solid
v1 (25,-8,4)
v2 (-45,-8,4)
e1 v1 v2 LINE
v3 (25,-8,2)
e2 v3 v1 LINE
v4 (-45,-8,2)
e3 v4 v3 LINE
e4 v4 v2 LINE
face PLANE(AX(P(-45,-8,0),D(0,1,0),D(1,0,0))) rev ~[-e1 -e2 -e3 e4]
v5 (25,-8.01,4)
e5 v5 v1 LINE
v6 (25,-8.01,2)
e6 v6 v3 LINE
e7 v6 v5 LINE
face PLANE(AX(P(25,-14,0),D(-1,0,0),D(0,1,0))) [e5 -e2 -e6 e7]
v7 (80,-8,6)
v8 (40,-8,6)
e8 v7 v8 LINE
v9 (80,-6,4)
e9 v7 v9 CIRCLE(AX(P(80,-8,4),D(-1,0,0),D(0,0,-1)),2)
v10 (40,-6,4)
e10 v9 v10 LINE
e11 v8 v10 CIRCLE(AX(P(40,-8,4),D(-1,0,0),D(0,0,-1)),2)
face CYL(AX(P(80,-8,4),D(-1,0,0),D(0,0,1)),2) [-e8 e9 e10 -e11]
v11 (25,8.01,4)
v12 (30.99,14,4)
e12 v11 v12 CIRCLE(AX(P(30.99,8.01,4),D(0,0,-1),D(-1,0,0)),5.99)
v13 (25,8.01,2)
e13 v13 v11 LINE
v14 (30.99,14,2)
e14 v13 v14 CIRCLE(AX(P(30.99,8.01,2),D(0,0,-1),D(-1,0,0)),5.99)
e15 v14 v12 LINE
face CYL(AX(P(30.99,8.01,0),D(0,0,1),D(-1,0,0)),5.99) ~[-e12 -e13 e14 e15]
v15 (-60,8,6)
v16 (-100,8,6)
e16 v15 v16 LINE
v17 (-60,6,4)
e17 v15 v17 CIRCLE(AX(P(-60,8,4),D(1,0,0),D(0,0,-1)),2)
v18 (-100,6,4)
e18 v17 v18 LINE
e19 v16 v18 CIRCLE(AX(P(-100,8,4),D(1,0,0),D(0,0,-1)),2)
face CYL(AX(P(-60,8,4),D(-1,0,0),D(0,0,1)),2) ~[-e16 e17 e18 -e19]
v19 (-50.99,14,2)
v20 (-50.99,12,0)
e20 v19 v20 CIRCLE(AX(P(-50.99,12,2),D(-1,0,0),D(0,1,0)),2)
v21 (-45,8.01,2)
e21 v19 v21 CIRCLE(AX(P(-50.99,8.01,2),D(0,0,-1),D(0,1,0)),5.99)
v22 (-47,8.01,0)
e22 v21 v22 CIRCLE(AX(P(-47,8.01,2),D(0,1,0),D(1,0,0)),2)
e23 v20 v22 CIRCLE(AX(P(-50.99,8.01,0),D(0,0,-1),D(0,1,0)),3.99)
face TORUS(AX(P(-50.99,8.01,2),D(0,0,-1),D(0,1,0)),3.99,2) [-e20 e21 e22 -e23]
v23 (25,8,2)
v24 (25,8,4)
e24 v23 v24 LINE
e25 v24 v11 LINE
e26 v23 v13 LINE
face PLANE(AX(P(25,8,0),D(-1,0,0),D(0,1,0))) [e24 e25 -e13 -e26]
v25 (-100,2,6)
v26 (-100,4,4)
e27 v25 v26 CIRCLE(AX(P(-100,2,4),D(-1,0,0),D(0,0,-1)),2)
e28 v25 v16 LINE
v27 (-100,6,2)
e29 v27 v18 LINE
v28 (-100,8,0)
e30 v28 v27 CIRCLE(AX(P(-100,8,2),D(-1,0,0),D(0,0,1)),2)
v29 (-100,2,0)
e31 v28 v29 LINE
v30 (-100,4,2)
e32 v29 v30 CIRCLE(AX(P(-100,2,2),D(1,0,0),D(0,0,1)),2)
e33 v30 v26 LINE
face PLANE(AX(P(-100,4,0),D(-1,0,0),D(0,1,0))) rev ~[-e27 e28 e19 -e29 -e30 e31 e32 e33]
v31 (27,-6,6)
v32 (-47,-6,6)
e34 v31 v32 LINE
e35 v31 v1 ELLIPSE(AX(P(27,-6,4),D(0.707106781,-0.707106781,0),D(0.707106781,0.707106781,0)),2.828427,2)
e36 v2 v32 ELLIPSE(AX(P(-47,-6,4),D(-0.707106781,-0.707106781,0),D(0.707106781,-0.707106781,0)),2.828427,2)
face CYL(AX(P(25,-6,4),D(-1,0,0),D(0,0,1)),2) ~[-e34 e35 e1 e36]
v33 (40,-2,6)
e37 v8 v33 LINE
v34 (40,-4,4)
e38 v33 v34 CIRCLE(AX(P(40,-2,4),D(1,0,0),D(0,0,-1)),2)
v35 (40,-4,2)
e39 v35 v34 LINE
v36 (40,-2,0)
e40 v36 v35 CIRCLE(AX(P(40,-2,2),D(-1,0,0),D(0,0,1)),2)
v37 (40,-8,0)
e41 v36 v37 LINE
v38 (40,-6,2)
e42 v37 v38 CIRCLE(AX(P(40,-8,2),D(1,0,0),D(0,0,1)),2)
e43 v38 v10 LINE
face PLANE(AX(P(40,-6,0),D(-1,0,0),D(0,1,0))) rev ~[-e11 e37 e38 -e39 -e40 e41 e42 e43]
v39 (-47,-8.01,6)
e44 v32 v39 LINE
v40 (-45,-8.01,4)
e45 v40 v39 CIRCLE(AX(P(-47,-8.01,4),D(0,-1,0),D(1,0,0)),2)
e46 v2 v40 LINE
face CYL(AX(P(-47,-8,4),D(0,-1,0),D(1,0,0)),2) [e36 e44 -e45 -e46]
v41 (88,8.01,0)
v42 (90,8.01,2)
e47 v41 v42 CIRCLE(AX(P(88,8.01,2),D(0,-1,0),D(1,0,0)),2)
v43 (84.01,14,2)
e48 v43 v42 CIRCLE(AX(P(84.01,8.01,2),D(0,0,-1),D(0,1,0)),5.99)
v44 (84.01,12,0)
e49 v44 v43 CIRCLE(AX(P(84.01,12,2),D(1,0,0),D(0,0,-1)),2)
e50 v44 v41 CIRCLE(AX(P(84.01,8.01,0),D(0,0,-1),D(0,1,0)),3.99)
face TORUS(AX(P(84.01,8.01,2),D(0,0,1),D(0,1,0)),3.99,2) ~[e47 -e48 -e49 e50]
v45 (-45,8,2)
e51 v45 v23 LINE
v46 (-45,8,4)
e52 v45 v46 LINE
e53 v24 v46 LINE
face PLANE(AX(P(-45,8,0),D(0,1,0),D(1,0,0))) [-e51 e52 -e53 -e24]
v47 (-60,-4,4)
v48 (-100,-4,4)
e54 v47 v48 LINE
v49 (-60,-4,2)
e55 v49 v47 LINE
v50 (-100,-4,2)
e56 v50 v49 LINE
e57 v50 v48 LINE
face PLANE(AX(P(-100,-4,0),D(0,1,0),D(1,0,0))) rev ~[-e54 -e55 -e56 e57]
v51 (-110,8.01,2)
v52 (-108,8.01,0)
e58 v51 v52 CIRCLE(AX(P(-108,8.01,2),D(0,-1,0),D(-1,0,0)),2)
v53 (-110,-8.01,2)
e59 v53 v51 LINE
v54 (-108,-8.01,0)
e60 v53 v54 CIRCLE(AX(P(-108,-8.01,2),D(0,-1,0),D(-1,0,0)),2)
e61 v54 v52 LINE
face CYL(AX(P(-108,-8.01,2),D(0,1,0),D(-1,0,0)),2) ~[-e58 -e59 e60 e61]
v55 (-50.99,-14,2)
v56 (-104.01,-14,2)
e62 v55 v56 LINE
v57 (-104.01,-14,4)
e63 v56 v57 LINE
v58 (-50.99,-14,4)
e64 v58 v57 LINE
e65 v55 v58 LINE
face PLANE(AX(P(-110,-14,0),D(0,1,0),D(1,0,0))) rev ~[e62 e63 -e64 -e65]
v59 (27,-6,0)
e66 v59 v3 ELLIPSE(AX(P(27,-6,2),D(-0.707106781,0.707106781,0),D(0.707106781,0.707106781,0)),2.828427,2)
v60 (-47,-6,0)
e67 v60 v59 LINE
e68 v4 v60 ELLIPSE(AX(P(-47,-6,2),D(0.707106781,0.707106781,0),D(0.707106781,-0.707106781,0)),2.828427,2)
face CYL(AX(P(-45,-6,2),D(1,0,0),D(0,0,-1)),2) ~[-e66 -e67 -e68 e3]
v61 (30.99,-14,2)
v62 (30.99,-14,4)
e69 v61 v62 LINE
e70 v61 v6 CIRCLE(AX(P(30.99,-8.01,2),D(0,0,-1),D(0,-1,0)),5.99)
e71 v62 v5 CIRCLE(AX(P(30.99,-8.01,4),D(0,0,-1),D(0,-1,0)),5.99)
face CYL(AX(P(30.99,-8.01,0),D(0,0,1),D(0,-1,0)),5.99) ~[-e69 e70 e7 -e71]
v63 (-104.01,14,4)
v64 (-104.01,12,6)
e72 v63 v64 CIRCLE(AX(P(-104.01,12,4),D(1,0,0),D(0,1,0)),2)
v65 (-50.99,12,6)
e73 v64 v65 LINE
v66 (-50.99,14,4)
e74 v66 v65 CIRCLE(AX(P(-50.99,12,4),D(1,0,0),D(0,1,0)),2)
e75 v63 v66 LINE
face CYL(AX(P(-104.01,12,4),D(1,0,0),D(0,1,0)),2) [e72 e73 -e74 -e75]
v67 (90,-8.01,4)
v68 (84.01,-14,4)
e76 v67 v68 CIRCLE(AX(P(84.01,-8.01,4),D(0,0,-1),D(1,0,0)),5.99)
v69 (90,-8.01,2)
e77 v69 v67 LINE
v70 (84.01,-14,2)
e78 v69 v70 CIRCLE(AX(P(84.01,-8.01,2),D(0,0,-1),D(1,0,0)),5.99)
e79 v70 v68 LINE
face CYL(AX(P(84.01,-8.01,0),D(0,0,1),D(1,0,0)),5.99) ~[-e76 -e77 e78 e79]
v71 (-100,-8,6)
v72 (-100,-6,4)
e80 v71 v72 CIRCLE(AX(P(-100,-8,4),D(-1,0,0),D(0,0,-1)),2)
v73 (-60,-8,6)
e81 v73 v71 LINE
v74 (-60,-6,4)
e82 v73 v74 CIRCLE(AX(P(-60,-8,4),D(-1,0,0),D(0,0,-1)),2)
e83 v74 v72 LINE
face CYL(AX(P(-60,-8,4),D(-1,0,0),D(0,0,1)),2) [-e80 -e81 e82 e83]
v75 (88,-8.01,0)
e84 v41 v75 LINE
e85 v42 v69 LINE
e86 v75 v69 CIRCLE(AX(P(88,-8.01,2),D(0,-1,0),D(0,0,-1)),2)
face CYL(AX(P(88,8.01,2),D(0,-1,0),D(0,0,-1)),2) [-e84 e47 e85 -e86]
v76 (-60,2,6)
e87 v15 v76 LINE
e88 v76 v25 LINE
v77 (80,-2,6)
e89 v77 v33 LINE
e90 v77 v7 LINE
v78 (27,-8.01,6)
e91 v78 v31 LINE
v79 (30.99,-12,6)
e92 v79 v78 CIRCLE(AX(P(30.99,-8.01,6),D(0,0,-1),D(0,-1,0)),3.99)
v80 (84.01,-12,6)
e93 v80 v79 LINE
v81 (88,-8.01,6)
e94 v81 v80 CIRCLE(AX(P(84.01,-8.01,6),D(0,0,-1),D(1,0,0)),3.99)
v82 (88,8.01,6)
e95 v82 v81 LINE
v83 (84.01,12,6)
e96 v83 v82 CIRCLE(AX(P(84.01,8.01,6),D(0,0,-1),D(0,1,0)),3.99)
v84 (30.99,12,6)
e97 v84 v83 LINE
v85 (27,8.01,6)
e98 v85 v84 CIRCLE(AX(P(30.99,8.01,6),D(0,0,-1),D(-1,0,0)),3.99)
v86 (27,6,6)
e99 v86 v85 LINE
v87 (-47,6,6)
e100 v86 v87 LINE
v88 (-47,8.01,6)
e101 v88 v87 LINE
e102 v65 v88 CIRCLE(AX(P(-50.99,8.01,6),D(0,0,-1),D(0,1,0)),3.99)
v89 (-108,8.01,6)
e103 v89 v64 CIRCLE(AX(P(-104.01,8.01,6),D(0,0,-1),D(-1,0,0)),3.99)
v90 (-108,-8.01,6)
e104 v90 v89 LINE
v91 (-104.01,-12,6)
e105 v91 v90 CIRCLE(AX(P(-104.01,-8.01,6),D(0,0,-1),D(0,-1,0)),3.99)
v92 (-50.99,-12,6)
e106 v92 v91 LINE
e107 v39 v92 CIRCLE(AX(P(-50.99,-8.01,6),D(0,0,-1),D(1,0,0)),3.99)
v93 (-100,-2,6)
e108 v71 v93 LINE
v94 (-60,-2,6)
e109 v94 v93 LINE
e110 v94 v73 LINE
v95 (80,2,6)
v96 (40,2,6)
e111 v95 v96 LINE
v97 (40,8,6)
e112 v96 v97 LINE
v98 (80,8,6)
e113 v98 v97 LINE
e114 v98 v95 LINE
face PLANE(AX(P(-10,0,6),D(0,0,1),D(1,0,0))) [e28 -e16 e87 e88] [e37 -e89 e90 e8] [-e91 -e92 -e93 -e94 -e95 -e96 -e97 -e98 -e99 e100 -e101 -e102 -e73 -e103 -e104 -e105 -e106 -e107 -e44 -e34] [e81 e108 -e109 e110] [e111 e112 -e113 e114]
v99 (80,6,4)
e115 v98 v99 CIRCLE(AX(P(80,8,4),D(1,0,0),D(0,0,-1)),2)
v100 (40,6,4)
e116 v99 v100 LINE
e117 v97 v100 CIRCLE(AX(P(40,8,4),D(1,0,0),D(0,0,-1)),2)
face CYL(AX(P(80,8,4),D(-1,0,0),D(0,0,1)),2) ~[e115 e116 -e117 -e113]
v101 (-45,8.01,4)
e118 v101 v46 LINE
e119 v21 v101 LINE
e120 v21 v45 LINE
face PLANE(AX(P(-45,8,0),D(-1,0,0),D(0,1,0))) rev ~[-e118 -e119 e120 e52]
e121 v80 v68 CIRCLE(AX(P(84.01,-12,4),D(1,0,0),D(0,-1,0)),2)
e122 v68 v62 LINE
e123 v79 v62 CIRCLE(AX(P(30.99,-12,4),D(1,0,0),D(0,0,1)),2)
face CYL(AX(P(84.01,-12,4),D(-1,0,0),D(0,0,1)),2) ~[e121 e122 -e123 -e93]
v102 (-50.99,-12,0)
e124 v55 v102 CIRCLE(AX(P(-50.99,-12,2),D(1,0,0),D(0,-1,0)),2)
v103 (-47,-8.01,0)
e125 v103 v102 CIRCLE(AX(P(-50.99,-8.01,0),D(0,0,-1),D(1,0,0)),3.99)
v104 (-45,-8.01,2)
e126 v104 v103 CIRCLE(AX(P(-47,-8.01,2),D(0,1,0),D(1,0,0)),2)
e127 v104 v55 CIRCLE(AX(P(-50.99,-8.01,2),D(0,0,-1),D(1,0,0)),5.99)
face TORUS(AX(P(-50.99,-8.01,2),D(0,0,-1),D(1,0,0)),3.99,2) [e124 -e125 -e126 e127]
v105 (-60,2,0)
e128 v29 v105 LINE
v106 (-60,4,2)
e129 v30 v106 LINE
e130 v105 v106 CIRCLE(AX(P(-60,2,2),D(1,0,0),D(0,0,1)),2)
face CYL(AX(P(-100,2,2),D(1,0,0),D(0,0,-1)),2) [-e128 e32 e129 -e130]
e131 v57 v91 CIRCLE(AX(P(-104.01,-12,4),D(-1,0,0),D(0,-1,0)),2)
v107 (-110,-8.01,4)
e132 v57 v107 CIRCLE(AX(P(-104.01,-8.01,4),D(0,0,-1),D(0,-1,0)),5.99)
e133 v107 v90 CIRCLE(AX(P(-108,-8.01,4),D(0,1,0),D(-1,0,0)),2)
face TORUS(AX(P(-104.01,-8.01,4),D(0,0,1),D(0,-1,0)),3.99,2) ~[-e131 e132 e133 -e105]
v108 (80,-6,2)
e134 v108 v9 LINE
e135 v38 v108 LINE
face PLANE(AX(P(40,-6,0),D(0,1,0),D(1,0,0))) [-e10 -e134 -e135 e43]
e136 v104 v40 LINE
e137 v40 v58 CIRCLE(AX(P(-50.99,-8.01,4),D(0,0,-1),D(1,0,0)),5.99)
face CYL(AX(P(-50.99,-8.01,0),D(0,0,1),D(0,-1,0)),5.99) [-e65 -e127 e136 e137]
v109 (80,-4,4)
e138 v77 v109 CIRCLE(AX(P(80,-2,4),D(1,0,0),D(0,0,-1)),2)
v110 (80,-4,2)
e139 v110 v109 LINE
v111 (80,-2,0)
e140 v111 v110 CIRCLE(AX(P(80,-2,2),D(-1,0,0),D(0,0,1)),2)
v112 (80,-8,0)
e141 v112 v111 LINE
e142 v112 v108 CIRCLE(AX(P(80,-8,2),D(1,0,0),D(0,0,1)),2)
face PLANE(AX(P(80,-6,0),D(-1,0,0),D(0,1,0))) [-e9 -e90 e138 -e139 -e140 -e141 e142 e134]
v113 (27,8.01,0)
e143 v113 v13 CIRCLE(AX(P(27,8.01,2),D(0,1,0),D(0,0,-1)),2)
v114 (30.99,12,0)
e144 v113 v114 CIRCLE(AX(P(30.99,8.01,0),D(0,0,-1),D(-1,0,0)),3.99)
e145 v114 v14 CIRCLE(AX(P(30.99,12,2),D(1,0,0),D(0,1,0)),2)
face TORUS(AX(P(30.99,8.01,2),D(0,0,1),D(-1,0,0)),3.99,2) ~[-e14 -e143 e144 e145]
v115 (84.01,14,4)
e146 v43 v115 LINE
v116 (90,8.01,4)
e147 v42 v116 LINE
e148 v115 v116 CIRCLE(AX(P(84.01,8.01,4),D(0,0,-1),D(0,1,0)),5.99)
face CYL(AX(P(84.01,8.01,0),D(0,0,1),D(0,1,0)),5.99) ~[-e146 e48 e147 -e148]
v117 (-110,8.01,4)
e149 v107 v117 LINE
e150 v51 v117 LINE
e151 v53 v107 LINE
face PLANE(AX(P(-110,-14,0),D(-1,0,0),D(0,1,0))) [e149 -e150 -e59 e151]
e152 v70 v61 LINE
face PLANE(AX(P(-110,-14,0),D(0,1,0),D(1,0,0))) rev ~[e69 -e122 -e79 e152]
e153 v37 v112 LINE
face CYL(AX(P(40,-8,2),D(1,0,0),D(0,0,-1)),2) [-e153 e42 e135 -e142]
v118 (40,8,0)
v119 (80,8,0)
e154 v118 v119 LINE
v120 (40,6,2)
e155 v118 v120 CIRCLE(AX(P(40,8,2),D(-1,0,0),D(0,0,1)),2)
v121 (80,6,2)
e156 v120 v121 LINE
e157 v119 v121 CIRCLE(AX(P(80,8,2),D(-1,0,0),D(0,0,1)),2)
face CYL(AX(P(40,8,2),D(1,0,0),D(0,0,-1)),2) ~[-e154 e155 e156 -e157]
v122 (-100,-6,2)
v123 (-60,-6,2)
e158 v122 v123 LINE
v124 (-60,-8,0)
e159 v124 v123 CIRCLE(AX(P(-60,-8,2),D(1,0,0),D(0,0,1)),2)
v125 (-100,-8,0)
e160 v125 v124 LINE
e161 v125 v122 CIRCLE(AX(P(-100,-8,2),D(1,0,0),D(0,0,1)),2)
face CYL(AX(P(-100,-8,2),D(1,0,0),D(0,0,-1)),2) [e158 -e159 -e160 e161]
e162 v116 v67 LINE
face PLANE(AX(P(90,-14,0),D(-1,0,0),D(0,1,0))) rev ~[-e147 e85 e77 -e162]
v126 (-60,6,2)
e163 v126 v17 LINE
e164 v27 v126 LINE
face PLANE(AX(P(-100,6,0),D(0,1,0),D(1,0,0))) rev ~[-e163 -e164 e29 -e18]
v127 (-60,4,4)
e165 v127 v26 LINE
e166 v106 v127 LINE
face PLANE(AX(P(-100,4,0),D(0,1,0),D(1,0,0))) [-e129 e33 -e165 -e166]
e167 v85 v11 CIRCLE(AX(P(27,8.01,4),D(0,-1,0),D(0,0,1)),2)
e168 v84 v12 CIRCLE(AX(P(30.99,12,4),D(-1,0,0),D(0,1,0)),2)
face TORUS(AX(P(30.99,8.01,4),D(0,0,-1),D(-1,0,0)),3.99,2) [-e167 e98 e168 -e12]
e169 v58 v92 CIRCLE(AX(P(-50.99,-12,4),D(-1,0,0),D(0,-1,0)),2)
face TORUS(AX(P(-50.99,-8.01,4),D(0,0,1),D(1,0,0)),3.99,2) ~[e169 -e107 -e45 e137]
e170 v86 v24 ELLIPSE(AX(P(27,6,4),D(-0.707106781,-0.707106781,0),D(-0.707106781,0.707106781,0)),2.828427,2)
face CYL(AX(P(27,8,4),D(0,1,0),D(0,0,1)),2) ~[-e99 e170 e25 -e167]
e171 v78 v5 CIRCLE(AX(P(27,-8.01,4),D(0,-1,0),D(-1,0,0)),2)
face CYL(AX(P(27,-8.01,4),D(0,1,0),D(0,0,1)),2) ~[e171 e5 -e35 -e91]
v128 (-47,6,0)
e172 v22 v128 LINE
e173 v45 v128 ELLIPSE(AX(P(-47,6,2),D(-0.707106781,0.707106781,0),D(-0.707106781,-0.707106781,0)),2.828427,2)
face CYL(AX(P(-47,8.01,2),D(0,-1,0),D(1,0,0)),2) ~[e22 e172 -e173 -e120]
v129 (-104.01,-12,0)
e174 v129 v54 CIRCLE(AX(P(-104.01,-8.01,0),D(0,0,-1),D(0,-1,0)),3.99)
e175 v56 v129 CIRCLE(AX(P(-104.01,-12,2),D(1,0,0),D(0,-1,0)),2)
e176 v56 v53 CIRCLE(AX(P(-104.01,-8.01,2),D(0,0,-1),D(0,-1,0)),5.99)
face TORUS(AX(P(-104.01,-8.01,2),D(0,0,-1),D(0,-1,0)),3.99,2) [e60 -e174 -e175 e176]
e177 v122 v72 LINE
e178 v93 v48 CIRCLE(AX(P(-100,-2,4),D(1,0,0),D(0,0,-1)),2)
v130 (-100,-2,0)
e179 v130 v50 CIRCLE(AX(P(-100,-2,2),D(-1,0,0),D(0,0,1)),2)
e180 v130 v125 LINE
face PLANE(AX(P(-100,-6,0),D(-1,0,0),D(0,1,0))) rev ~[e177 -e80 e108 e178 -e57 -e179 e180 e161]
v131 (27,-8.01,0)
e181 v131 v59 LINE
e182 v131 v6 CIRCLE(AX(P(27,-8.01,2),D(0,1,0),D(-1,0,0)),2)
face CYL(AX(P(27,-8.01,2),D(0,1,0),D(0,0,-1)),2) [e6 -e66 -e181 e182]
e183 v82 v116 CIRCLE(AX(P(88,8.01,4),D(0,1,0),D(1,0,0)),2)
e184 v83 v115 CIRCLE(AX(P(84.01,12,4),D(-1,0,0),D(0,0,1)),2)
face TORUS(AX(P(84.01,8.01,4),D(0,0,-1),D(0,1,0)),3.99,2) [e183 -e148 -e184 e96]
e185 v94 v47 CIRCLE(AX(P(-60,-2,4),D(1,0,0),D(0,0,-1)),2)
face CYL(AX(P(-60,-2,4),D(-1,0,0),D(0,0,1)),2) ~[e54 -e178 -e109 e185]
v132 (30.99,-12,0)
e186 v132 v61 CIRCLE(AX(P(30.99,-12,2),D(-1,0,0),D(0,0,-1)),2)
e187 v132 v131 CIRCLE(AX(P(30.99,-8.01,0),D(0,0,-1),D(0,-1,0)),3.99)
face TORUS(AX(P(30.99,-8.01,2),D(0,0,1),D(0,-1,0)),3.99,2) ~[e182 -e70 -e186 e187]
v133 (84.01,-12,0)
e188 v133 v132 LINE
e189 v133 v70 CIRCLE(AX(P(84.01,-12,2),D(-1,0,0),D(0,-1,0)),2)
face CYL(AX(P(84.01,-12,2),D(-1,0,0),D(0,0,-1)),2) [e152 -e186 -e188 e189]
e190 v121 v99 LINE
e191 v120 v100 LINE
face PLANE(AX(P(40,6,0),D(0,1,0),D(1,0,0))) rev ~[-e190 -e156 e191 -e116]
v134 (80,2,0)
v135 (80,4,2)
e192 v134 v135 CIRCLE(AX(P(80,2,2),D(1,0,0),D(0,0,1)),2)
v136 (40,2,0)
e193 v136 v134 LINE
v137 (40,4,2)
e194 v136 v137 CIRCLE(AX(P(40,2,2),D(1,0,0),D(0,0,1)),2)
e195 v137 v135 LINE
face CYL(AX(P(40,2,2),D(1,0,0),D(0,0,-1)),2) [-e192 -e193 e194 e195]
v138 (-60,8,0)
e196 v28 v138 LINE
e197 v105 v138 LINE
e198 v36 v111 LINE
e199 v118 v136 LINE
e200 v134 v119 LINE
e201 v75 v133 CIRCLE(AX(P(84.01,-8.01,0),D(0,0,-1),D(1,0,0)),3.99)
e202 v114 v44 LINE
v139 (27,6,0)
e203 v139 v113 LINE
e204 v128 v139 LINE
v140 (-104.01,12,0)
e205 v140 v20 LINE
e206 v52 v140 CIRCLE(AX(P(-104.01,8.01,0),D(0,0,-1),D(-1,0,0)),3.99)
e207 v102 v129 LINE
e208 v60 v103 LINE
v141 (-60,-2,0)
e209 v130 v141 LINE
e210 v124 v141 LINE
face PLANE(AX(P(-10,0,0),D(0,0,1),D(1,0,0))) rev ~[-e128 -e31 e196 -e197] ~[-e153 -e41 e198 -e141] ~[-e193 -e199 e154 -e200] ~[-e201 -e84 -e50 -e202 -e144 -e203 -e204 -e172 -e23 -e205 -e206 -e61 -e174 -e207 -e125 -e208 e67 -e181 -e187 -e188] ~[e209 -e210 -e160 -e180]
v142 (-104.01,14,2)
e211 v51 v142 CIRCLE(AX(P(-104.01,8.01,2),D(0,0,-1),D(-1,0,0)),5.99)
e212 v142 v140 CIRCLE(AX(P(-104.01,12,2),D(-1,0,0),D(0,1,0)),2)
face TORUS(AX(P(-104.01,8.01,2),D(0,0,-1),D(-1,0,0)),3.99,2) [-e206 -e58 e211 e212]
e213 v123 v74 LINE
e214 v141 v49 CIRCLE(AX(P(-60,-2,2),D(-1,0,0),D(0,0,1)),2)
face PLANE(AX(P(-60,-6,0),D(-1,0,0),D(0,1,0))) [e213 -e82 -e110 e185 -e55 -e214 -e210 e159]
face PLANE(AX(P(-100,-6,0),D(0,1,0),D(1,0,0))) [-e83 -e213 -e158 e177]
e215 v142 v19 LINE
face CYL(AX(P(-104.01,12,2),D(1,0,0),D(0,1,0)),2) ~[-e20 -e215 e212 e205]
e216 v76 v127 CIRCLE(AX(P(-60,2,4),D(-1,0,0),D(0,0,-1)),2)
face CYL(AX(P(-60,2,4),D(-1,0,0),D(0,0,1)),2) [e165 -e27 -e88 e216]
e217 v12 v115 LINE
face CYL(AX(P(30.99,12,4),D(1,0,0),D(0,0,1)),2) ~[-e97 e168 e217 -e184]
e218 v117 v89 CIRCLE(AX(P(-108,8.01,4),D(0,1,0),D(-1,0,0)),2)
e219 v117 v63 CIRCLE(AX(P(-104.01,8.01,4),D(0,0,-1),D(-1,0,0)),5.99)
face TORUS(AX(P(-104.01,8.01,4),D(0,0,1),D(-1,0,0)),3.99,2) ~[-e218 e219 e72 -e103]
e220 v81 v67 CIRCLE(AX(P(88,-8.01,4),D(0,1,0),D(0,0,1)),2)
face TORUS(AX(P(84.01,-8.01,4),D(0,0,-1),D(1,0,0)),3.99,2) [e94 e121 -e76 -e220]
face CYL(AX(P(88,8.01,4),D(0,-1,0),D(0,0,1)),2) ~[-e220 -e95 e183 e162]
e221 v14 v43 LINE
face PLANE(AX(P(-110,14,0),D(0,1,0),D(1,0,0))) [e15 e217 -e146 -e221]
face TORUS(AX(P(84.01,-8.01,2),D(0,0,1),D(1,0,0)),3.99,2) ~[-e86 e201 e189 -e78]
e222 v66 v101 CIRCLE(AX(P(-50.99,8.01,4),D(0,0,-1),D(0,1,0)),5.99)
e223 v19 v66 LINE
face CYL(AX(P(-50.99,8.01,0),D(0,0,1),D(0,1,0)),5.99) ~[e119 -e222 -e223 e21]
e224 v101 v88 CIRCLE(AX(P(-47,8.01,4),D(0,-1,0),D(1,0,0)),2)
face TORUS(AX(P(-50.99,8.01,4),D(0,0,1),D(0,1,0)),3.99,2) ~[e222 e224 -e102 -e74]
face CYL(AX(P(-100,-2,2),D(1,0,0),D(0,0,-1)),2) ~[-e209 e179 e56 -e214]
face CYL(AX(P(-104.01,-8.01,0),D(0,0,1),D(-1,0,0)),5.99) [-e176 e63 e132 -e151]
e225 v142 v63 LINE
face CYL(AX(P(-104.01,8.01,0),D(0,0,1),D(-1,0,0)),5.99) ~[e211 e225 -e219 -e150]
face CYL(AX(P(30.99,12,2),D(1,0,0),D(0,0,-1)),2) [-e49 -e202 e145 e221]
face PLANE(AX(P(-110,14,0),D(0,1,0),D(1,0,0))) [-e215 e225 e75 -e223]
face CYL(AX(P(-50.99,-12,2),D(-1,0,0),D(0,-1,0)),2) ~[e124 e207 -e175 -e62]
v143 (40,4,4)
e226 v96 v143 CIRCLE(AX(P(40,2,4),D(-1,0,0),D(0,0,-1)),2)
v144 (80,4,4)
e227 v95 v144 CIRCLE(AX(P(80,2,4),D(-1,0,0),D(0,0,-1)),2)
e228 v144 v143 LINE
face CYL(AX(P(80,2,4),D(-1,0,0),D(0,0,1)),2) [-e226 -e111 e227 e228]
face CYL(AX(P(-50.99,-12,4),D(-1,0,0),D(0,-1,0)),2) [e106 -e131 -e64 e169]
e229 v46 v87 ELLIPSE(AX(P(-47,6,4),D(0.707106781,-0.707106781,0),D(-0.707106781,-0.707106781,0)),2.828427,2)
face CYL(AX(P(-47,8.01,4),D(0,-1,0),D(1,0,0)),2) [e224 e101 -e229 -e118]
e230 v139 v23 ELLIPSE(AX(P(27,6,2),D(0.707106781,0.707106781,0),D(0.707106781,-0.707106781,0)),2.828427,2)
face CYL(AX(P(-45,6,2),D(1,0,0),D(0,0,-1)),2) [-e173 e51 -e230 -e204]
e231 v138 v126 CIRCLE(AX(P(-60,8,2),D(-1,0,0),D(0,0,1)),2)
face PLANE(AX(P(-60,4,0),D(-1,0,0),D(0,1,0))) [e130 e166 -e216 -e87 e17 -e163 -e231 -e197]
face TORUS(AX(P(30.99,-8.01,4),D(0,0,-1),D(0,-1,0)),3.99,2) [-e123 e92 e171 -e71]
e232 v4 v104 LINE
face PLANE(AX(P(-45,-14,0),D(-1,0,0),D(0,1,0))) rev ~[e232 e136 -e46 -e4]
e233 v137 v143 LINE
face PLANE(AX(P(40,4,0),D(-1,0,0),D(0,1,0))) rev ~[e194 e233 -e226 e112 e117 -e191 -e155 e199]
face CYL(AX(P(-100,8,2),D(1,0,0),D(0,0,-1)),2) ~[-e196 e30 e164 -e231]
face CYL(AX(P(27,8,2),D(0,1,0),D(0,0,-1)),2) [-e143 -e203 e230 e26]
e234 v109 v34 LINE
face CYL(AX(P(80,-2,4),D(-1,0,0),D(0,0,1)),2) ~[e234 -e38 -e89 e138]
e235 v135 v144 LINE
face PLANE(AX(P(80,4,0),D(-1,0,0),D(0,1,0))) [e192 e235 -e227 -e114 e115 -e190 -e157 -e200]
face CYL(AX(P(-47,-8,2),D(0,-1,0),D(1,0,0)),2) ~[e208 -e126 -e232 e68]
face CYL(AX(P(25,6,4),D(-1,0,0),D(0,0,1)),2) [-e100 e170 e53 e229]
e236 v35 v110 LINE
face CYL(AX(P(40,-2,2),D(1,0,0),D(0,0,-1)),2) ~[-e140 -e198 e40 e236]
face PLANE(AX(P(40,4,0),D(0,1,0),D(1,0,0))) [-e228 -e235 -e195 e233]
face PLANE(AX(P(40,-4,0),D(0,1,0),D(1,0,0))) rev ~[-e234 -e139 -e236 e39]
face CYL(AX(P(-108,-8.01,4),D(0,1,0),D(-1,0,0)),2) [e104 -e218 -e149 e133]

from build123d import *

# Parameters (mm, degrees)
BOX003_W     = 40
BOX003_H     = 2
BOX003_DEPTH = 10
BOX004_W     = 40
BOX004_H     = 2
BOX004_DEPTH = 10
BOX002_W     = 40
BOX002_H     = 2
BOX002_DEPTH = 10
BOX005_W     = 70
BOX005_H     = 6
BOX005_DEPTH = 10
BOX006_W     = 70
BOX006_H     = 6
BOX006_DEPTH = 10
BOX001_W     = 40
BOX001_H     = 2
BOX001_DEPTH = 10
BOX_W        = 200
BOX_H        = 28
BOX_DEPTH    = 6
FILLET_R     = 5.99
FILLET001_R  = 2


with BuildPart() as cube003:
    # Box003 → Box003 (new body)
    with BuildSketch(Plane(origin=(40, -6, 0), x_dir=(1, 0, 0), z_dir=(0, 0, 1))):
        with Locations((20, 1)):
            Rectangle(BOX003_W, BOX003_H)
    extrude(amount=BOX003_DEPTH)


with BuildPart() as cube004:
    # Box004 → Box004 (new body)
    with BuildSketch(Plane(origin=(40, 4, 0), x_dir=(1, 0, 0), z_dir=(0, 0, 1))):
        with Locations((20, 1)):
            Rectangle(BOX004_W, BOX004_H)
    extrude(amount=BOX004_DEPTH)


with BuildPart() as cube002:
    # Box002 → Box002 (new body)
    with BuildSketch(Plane(origin=(-100, 4, 0), x_dir=(1, 0, 0), z_dir=(0, 0, 1))):
        with Locations((20, 1)):
            Rectangle(BOX002_W, BOX002_H)
    extrude(amount=BOX002_DEPTH)


with BuildPart() as cube005:
    # Box005 → Box005 (new body)
    with BuildSketch(Plane(origin=(-45, -14, 0), x_dir=(1, 0, 0), z_dir=(0, 0, 1))):
        with Locations((35, 3)):
            Rectangle(BOX005_W, BOX005_H)
    extrude(amount=BOX005_DEPTH)


with BuildPart() as cube006:
    # Box006 → Box006 (new body)
    with BuildSketch(Plane(origin=(-45, 8, 0), x_dir=(1, 0, 0), z_dir=(0, 0, 1))):
        with Locations((35, 3)):
            Rectangle(BOX006_W, BOX006_H)
    extrude(amount=BOX006_DEPTH)


with BuildPart() as holes:
    # Box001 → Box001 (new body)
    with BuildSketch(Plane(origin=(-100, -6, 0), x_dir=(1, 0, 0), z_dir=(0, 0, 1))):
        with Locations((20, 1)):
            Rectangle(BOX001_W, BOX001_H)
    extrude(amount=BOX001_DEPTH)

    # Fusion: union Cube003, Cube004, Cube002, Cube005, Cube006
    add(cube003.part)
    add(cube004.part)
    add(cube002.part)
    add(cube005.part)
    add(cube006.part)


with BuildPart() as fillet001:
    # Box → Box (new body)
    with BuildSketch(Plane(origin=(-110, -14, 0), x_dir=(1, 0, 0), z_dir=(0, 0, 1))):
        with Locations((100, 14)):
            Rectangle(BOX_W, BOX_H)
    extrude(amount=BOX_DEPTH)

    # Cut: cut Holes
    add(holes.part, mode=Mode.SUBTRACT)

    # Fillet
    fillet_edges = [fillet001.edges().sort_by_distance(p)[0] for p in [
        (-110, -14, 3),
        (-110, 14, 3),
        (-45, -14, 3),
        (-45, 14, 3),
        (25, 14, 3),
        (90, 14, 3),
        (90, -14, 3),
        (25, -14, 3),
    ]]
    fillet(fillet_edges, radius=FILLET_R)

    # Fillet001
    fillet001_edges = [fillet001.edges().sort_by_distance(p)[0] for p in [
        (-110, 0, 6),
        (-110, 0, 0),
        (-77.5, 14, 6),
        (-108.24557, 12.24557, 6),
        (-46.75443, 12.24557, 6),
        (-108.24557, -12.24557, 6),
        (-10, 8, 6),
        (-77.5, -14, 6),
        (-46.75443, -12.24557, 6),
        (26.75443, 12.24557, 6),
        (57.5, 14, 6),
        (-10, -8, 6),
        (88.24557, 12.24557, 6),
        (90, 0, 6),
        (26.75443, -12.24557, 6),
        (88.24557, -12.24557, 6),
        (57.5, -14, 6),
        (-80, -6, 6),
        (-80, -4, 6),
        (-80, 4, 6),
        (-80, 6, 6),
        (60, 4, 6),
        (60, 6, 6),
        (60, -6, 6),
        (60, -4, 6),
        (-108.24557, -12.24557, 0),
        (-108.24557, 12.24557, 0),
        (-77.5, 14, 0),
        (-46.75443, 12.24557, 0),
        (-10, 8, 0),
        (-77.5, -14, 0),
        (-46.75443, -12.24557, 0),
        (26.75443, 12.24557, 0),
        (57.5, 14, 0),
        (-10, -8, 0),
        (88.24557, 12.24557, 0),
        (90, 0, 0),
        (26.75443, -12.24557, 0),
        (88.24557, -12.24557, 0),
        (57.5, -14, 0),
        (-80, -6, 0),
        (-80, -4, 0),
        (-80, 4, 0),
        (-80, 6, 0),
        (60, 4, 0),
        (60, 6, 0),
        (60, -6, 0),
        (60, -4, 0),
    ]]
    fillet(fillet001_edges, radius=FILLET001_R)


solid = fillet001.part
